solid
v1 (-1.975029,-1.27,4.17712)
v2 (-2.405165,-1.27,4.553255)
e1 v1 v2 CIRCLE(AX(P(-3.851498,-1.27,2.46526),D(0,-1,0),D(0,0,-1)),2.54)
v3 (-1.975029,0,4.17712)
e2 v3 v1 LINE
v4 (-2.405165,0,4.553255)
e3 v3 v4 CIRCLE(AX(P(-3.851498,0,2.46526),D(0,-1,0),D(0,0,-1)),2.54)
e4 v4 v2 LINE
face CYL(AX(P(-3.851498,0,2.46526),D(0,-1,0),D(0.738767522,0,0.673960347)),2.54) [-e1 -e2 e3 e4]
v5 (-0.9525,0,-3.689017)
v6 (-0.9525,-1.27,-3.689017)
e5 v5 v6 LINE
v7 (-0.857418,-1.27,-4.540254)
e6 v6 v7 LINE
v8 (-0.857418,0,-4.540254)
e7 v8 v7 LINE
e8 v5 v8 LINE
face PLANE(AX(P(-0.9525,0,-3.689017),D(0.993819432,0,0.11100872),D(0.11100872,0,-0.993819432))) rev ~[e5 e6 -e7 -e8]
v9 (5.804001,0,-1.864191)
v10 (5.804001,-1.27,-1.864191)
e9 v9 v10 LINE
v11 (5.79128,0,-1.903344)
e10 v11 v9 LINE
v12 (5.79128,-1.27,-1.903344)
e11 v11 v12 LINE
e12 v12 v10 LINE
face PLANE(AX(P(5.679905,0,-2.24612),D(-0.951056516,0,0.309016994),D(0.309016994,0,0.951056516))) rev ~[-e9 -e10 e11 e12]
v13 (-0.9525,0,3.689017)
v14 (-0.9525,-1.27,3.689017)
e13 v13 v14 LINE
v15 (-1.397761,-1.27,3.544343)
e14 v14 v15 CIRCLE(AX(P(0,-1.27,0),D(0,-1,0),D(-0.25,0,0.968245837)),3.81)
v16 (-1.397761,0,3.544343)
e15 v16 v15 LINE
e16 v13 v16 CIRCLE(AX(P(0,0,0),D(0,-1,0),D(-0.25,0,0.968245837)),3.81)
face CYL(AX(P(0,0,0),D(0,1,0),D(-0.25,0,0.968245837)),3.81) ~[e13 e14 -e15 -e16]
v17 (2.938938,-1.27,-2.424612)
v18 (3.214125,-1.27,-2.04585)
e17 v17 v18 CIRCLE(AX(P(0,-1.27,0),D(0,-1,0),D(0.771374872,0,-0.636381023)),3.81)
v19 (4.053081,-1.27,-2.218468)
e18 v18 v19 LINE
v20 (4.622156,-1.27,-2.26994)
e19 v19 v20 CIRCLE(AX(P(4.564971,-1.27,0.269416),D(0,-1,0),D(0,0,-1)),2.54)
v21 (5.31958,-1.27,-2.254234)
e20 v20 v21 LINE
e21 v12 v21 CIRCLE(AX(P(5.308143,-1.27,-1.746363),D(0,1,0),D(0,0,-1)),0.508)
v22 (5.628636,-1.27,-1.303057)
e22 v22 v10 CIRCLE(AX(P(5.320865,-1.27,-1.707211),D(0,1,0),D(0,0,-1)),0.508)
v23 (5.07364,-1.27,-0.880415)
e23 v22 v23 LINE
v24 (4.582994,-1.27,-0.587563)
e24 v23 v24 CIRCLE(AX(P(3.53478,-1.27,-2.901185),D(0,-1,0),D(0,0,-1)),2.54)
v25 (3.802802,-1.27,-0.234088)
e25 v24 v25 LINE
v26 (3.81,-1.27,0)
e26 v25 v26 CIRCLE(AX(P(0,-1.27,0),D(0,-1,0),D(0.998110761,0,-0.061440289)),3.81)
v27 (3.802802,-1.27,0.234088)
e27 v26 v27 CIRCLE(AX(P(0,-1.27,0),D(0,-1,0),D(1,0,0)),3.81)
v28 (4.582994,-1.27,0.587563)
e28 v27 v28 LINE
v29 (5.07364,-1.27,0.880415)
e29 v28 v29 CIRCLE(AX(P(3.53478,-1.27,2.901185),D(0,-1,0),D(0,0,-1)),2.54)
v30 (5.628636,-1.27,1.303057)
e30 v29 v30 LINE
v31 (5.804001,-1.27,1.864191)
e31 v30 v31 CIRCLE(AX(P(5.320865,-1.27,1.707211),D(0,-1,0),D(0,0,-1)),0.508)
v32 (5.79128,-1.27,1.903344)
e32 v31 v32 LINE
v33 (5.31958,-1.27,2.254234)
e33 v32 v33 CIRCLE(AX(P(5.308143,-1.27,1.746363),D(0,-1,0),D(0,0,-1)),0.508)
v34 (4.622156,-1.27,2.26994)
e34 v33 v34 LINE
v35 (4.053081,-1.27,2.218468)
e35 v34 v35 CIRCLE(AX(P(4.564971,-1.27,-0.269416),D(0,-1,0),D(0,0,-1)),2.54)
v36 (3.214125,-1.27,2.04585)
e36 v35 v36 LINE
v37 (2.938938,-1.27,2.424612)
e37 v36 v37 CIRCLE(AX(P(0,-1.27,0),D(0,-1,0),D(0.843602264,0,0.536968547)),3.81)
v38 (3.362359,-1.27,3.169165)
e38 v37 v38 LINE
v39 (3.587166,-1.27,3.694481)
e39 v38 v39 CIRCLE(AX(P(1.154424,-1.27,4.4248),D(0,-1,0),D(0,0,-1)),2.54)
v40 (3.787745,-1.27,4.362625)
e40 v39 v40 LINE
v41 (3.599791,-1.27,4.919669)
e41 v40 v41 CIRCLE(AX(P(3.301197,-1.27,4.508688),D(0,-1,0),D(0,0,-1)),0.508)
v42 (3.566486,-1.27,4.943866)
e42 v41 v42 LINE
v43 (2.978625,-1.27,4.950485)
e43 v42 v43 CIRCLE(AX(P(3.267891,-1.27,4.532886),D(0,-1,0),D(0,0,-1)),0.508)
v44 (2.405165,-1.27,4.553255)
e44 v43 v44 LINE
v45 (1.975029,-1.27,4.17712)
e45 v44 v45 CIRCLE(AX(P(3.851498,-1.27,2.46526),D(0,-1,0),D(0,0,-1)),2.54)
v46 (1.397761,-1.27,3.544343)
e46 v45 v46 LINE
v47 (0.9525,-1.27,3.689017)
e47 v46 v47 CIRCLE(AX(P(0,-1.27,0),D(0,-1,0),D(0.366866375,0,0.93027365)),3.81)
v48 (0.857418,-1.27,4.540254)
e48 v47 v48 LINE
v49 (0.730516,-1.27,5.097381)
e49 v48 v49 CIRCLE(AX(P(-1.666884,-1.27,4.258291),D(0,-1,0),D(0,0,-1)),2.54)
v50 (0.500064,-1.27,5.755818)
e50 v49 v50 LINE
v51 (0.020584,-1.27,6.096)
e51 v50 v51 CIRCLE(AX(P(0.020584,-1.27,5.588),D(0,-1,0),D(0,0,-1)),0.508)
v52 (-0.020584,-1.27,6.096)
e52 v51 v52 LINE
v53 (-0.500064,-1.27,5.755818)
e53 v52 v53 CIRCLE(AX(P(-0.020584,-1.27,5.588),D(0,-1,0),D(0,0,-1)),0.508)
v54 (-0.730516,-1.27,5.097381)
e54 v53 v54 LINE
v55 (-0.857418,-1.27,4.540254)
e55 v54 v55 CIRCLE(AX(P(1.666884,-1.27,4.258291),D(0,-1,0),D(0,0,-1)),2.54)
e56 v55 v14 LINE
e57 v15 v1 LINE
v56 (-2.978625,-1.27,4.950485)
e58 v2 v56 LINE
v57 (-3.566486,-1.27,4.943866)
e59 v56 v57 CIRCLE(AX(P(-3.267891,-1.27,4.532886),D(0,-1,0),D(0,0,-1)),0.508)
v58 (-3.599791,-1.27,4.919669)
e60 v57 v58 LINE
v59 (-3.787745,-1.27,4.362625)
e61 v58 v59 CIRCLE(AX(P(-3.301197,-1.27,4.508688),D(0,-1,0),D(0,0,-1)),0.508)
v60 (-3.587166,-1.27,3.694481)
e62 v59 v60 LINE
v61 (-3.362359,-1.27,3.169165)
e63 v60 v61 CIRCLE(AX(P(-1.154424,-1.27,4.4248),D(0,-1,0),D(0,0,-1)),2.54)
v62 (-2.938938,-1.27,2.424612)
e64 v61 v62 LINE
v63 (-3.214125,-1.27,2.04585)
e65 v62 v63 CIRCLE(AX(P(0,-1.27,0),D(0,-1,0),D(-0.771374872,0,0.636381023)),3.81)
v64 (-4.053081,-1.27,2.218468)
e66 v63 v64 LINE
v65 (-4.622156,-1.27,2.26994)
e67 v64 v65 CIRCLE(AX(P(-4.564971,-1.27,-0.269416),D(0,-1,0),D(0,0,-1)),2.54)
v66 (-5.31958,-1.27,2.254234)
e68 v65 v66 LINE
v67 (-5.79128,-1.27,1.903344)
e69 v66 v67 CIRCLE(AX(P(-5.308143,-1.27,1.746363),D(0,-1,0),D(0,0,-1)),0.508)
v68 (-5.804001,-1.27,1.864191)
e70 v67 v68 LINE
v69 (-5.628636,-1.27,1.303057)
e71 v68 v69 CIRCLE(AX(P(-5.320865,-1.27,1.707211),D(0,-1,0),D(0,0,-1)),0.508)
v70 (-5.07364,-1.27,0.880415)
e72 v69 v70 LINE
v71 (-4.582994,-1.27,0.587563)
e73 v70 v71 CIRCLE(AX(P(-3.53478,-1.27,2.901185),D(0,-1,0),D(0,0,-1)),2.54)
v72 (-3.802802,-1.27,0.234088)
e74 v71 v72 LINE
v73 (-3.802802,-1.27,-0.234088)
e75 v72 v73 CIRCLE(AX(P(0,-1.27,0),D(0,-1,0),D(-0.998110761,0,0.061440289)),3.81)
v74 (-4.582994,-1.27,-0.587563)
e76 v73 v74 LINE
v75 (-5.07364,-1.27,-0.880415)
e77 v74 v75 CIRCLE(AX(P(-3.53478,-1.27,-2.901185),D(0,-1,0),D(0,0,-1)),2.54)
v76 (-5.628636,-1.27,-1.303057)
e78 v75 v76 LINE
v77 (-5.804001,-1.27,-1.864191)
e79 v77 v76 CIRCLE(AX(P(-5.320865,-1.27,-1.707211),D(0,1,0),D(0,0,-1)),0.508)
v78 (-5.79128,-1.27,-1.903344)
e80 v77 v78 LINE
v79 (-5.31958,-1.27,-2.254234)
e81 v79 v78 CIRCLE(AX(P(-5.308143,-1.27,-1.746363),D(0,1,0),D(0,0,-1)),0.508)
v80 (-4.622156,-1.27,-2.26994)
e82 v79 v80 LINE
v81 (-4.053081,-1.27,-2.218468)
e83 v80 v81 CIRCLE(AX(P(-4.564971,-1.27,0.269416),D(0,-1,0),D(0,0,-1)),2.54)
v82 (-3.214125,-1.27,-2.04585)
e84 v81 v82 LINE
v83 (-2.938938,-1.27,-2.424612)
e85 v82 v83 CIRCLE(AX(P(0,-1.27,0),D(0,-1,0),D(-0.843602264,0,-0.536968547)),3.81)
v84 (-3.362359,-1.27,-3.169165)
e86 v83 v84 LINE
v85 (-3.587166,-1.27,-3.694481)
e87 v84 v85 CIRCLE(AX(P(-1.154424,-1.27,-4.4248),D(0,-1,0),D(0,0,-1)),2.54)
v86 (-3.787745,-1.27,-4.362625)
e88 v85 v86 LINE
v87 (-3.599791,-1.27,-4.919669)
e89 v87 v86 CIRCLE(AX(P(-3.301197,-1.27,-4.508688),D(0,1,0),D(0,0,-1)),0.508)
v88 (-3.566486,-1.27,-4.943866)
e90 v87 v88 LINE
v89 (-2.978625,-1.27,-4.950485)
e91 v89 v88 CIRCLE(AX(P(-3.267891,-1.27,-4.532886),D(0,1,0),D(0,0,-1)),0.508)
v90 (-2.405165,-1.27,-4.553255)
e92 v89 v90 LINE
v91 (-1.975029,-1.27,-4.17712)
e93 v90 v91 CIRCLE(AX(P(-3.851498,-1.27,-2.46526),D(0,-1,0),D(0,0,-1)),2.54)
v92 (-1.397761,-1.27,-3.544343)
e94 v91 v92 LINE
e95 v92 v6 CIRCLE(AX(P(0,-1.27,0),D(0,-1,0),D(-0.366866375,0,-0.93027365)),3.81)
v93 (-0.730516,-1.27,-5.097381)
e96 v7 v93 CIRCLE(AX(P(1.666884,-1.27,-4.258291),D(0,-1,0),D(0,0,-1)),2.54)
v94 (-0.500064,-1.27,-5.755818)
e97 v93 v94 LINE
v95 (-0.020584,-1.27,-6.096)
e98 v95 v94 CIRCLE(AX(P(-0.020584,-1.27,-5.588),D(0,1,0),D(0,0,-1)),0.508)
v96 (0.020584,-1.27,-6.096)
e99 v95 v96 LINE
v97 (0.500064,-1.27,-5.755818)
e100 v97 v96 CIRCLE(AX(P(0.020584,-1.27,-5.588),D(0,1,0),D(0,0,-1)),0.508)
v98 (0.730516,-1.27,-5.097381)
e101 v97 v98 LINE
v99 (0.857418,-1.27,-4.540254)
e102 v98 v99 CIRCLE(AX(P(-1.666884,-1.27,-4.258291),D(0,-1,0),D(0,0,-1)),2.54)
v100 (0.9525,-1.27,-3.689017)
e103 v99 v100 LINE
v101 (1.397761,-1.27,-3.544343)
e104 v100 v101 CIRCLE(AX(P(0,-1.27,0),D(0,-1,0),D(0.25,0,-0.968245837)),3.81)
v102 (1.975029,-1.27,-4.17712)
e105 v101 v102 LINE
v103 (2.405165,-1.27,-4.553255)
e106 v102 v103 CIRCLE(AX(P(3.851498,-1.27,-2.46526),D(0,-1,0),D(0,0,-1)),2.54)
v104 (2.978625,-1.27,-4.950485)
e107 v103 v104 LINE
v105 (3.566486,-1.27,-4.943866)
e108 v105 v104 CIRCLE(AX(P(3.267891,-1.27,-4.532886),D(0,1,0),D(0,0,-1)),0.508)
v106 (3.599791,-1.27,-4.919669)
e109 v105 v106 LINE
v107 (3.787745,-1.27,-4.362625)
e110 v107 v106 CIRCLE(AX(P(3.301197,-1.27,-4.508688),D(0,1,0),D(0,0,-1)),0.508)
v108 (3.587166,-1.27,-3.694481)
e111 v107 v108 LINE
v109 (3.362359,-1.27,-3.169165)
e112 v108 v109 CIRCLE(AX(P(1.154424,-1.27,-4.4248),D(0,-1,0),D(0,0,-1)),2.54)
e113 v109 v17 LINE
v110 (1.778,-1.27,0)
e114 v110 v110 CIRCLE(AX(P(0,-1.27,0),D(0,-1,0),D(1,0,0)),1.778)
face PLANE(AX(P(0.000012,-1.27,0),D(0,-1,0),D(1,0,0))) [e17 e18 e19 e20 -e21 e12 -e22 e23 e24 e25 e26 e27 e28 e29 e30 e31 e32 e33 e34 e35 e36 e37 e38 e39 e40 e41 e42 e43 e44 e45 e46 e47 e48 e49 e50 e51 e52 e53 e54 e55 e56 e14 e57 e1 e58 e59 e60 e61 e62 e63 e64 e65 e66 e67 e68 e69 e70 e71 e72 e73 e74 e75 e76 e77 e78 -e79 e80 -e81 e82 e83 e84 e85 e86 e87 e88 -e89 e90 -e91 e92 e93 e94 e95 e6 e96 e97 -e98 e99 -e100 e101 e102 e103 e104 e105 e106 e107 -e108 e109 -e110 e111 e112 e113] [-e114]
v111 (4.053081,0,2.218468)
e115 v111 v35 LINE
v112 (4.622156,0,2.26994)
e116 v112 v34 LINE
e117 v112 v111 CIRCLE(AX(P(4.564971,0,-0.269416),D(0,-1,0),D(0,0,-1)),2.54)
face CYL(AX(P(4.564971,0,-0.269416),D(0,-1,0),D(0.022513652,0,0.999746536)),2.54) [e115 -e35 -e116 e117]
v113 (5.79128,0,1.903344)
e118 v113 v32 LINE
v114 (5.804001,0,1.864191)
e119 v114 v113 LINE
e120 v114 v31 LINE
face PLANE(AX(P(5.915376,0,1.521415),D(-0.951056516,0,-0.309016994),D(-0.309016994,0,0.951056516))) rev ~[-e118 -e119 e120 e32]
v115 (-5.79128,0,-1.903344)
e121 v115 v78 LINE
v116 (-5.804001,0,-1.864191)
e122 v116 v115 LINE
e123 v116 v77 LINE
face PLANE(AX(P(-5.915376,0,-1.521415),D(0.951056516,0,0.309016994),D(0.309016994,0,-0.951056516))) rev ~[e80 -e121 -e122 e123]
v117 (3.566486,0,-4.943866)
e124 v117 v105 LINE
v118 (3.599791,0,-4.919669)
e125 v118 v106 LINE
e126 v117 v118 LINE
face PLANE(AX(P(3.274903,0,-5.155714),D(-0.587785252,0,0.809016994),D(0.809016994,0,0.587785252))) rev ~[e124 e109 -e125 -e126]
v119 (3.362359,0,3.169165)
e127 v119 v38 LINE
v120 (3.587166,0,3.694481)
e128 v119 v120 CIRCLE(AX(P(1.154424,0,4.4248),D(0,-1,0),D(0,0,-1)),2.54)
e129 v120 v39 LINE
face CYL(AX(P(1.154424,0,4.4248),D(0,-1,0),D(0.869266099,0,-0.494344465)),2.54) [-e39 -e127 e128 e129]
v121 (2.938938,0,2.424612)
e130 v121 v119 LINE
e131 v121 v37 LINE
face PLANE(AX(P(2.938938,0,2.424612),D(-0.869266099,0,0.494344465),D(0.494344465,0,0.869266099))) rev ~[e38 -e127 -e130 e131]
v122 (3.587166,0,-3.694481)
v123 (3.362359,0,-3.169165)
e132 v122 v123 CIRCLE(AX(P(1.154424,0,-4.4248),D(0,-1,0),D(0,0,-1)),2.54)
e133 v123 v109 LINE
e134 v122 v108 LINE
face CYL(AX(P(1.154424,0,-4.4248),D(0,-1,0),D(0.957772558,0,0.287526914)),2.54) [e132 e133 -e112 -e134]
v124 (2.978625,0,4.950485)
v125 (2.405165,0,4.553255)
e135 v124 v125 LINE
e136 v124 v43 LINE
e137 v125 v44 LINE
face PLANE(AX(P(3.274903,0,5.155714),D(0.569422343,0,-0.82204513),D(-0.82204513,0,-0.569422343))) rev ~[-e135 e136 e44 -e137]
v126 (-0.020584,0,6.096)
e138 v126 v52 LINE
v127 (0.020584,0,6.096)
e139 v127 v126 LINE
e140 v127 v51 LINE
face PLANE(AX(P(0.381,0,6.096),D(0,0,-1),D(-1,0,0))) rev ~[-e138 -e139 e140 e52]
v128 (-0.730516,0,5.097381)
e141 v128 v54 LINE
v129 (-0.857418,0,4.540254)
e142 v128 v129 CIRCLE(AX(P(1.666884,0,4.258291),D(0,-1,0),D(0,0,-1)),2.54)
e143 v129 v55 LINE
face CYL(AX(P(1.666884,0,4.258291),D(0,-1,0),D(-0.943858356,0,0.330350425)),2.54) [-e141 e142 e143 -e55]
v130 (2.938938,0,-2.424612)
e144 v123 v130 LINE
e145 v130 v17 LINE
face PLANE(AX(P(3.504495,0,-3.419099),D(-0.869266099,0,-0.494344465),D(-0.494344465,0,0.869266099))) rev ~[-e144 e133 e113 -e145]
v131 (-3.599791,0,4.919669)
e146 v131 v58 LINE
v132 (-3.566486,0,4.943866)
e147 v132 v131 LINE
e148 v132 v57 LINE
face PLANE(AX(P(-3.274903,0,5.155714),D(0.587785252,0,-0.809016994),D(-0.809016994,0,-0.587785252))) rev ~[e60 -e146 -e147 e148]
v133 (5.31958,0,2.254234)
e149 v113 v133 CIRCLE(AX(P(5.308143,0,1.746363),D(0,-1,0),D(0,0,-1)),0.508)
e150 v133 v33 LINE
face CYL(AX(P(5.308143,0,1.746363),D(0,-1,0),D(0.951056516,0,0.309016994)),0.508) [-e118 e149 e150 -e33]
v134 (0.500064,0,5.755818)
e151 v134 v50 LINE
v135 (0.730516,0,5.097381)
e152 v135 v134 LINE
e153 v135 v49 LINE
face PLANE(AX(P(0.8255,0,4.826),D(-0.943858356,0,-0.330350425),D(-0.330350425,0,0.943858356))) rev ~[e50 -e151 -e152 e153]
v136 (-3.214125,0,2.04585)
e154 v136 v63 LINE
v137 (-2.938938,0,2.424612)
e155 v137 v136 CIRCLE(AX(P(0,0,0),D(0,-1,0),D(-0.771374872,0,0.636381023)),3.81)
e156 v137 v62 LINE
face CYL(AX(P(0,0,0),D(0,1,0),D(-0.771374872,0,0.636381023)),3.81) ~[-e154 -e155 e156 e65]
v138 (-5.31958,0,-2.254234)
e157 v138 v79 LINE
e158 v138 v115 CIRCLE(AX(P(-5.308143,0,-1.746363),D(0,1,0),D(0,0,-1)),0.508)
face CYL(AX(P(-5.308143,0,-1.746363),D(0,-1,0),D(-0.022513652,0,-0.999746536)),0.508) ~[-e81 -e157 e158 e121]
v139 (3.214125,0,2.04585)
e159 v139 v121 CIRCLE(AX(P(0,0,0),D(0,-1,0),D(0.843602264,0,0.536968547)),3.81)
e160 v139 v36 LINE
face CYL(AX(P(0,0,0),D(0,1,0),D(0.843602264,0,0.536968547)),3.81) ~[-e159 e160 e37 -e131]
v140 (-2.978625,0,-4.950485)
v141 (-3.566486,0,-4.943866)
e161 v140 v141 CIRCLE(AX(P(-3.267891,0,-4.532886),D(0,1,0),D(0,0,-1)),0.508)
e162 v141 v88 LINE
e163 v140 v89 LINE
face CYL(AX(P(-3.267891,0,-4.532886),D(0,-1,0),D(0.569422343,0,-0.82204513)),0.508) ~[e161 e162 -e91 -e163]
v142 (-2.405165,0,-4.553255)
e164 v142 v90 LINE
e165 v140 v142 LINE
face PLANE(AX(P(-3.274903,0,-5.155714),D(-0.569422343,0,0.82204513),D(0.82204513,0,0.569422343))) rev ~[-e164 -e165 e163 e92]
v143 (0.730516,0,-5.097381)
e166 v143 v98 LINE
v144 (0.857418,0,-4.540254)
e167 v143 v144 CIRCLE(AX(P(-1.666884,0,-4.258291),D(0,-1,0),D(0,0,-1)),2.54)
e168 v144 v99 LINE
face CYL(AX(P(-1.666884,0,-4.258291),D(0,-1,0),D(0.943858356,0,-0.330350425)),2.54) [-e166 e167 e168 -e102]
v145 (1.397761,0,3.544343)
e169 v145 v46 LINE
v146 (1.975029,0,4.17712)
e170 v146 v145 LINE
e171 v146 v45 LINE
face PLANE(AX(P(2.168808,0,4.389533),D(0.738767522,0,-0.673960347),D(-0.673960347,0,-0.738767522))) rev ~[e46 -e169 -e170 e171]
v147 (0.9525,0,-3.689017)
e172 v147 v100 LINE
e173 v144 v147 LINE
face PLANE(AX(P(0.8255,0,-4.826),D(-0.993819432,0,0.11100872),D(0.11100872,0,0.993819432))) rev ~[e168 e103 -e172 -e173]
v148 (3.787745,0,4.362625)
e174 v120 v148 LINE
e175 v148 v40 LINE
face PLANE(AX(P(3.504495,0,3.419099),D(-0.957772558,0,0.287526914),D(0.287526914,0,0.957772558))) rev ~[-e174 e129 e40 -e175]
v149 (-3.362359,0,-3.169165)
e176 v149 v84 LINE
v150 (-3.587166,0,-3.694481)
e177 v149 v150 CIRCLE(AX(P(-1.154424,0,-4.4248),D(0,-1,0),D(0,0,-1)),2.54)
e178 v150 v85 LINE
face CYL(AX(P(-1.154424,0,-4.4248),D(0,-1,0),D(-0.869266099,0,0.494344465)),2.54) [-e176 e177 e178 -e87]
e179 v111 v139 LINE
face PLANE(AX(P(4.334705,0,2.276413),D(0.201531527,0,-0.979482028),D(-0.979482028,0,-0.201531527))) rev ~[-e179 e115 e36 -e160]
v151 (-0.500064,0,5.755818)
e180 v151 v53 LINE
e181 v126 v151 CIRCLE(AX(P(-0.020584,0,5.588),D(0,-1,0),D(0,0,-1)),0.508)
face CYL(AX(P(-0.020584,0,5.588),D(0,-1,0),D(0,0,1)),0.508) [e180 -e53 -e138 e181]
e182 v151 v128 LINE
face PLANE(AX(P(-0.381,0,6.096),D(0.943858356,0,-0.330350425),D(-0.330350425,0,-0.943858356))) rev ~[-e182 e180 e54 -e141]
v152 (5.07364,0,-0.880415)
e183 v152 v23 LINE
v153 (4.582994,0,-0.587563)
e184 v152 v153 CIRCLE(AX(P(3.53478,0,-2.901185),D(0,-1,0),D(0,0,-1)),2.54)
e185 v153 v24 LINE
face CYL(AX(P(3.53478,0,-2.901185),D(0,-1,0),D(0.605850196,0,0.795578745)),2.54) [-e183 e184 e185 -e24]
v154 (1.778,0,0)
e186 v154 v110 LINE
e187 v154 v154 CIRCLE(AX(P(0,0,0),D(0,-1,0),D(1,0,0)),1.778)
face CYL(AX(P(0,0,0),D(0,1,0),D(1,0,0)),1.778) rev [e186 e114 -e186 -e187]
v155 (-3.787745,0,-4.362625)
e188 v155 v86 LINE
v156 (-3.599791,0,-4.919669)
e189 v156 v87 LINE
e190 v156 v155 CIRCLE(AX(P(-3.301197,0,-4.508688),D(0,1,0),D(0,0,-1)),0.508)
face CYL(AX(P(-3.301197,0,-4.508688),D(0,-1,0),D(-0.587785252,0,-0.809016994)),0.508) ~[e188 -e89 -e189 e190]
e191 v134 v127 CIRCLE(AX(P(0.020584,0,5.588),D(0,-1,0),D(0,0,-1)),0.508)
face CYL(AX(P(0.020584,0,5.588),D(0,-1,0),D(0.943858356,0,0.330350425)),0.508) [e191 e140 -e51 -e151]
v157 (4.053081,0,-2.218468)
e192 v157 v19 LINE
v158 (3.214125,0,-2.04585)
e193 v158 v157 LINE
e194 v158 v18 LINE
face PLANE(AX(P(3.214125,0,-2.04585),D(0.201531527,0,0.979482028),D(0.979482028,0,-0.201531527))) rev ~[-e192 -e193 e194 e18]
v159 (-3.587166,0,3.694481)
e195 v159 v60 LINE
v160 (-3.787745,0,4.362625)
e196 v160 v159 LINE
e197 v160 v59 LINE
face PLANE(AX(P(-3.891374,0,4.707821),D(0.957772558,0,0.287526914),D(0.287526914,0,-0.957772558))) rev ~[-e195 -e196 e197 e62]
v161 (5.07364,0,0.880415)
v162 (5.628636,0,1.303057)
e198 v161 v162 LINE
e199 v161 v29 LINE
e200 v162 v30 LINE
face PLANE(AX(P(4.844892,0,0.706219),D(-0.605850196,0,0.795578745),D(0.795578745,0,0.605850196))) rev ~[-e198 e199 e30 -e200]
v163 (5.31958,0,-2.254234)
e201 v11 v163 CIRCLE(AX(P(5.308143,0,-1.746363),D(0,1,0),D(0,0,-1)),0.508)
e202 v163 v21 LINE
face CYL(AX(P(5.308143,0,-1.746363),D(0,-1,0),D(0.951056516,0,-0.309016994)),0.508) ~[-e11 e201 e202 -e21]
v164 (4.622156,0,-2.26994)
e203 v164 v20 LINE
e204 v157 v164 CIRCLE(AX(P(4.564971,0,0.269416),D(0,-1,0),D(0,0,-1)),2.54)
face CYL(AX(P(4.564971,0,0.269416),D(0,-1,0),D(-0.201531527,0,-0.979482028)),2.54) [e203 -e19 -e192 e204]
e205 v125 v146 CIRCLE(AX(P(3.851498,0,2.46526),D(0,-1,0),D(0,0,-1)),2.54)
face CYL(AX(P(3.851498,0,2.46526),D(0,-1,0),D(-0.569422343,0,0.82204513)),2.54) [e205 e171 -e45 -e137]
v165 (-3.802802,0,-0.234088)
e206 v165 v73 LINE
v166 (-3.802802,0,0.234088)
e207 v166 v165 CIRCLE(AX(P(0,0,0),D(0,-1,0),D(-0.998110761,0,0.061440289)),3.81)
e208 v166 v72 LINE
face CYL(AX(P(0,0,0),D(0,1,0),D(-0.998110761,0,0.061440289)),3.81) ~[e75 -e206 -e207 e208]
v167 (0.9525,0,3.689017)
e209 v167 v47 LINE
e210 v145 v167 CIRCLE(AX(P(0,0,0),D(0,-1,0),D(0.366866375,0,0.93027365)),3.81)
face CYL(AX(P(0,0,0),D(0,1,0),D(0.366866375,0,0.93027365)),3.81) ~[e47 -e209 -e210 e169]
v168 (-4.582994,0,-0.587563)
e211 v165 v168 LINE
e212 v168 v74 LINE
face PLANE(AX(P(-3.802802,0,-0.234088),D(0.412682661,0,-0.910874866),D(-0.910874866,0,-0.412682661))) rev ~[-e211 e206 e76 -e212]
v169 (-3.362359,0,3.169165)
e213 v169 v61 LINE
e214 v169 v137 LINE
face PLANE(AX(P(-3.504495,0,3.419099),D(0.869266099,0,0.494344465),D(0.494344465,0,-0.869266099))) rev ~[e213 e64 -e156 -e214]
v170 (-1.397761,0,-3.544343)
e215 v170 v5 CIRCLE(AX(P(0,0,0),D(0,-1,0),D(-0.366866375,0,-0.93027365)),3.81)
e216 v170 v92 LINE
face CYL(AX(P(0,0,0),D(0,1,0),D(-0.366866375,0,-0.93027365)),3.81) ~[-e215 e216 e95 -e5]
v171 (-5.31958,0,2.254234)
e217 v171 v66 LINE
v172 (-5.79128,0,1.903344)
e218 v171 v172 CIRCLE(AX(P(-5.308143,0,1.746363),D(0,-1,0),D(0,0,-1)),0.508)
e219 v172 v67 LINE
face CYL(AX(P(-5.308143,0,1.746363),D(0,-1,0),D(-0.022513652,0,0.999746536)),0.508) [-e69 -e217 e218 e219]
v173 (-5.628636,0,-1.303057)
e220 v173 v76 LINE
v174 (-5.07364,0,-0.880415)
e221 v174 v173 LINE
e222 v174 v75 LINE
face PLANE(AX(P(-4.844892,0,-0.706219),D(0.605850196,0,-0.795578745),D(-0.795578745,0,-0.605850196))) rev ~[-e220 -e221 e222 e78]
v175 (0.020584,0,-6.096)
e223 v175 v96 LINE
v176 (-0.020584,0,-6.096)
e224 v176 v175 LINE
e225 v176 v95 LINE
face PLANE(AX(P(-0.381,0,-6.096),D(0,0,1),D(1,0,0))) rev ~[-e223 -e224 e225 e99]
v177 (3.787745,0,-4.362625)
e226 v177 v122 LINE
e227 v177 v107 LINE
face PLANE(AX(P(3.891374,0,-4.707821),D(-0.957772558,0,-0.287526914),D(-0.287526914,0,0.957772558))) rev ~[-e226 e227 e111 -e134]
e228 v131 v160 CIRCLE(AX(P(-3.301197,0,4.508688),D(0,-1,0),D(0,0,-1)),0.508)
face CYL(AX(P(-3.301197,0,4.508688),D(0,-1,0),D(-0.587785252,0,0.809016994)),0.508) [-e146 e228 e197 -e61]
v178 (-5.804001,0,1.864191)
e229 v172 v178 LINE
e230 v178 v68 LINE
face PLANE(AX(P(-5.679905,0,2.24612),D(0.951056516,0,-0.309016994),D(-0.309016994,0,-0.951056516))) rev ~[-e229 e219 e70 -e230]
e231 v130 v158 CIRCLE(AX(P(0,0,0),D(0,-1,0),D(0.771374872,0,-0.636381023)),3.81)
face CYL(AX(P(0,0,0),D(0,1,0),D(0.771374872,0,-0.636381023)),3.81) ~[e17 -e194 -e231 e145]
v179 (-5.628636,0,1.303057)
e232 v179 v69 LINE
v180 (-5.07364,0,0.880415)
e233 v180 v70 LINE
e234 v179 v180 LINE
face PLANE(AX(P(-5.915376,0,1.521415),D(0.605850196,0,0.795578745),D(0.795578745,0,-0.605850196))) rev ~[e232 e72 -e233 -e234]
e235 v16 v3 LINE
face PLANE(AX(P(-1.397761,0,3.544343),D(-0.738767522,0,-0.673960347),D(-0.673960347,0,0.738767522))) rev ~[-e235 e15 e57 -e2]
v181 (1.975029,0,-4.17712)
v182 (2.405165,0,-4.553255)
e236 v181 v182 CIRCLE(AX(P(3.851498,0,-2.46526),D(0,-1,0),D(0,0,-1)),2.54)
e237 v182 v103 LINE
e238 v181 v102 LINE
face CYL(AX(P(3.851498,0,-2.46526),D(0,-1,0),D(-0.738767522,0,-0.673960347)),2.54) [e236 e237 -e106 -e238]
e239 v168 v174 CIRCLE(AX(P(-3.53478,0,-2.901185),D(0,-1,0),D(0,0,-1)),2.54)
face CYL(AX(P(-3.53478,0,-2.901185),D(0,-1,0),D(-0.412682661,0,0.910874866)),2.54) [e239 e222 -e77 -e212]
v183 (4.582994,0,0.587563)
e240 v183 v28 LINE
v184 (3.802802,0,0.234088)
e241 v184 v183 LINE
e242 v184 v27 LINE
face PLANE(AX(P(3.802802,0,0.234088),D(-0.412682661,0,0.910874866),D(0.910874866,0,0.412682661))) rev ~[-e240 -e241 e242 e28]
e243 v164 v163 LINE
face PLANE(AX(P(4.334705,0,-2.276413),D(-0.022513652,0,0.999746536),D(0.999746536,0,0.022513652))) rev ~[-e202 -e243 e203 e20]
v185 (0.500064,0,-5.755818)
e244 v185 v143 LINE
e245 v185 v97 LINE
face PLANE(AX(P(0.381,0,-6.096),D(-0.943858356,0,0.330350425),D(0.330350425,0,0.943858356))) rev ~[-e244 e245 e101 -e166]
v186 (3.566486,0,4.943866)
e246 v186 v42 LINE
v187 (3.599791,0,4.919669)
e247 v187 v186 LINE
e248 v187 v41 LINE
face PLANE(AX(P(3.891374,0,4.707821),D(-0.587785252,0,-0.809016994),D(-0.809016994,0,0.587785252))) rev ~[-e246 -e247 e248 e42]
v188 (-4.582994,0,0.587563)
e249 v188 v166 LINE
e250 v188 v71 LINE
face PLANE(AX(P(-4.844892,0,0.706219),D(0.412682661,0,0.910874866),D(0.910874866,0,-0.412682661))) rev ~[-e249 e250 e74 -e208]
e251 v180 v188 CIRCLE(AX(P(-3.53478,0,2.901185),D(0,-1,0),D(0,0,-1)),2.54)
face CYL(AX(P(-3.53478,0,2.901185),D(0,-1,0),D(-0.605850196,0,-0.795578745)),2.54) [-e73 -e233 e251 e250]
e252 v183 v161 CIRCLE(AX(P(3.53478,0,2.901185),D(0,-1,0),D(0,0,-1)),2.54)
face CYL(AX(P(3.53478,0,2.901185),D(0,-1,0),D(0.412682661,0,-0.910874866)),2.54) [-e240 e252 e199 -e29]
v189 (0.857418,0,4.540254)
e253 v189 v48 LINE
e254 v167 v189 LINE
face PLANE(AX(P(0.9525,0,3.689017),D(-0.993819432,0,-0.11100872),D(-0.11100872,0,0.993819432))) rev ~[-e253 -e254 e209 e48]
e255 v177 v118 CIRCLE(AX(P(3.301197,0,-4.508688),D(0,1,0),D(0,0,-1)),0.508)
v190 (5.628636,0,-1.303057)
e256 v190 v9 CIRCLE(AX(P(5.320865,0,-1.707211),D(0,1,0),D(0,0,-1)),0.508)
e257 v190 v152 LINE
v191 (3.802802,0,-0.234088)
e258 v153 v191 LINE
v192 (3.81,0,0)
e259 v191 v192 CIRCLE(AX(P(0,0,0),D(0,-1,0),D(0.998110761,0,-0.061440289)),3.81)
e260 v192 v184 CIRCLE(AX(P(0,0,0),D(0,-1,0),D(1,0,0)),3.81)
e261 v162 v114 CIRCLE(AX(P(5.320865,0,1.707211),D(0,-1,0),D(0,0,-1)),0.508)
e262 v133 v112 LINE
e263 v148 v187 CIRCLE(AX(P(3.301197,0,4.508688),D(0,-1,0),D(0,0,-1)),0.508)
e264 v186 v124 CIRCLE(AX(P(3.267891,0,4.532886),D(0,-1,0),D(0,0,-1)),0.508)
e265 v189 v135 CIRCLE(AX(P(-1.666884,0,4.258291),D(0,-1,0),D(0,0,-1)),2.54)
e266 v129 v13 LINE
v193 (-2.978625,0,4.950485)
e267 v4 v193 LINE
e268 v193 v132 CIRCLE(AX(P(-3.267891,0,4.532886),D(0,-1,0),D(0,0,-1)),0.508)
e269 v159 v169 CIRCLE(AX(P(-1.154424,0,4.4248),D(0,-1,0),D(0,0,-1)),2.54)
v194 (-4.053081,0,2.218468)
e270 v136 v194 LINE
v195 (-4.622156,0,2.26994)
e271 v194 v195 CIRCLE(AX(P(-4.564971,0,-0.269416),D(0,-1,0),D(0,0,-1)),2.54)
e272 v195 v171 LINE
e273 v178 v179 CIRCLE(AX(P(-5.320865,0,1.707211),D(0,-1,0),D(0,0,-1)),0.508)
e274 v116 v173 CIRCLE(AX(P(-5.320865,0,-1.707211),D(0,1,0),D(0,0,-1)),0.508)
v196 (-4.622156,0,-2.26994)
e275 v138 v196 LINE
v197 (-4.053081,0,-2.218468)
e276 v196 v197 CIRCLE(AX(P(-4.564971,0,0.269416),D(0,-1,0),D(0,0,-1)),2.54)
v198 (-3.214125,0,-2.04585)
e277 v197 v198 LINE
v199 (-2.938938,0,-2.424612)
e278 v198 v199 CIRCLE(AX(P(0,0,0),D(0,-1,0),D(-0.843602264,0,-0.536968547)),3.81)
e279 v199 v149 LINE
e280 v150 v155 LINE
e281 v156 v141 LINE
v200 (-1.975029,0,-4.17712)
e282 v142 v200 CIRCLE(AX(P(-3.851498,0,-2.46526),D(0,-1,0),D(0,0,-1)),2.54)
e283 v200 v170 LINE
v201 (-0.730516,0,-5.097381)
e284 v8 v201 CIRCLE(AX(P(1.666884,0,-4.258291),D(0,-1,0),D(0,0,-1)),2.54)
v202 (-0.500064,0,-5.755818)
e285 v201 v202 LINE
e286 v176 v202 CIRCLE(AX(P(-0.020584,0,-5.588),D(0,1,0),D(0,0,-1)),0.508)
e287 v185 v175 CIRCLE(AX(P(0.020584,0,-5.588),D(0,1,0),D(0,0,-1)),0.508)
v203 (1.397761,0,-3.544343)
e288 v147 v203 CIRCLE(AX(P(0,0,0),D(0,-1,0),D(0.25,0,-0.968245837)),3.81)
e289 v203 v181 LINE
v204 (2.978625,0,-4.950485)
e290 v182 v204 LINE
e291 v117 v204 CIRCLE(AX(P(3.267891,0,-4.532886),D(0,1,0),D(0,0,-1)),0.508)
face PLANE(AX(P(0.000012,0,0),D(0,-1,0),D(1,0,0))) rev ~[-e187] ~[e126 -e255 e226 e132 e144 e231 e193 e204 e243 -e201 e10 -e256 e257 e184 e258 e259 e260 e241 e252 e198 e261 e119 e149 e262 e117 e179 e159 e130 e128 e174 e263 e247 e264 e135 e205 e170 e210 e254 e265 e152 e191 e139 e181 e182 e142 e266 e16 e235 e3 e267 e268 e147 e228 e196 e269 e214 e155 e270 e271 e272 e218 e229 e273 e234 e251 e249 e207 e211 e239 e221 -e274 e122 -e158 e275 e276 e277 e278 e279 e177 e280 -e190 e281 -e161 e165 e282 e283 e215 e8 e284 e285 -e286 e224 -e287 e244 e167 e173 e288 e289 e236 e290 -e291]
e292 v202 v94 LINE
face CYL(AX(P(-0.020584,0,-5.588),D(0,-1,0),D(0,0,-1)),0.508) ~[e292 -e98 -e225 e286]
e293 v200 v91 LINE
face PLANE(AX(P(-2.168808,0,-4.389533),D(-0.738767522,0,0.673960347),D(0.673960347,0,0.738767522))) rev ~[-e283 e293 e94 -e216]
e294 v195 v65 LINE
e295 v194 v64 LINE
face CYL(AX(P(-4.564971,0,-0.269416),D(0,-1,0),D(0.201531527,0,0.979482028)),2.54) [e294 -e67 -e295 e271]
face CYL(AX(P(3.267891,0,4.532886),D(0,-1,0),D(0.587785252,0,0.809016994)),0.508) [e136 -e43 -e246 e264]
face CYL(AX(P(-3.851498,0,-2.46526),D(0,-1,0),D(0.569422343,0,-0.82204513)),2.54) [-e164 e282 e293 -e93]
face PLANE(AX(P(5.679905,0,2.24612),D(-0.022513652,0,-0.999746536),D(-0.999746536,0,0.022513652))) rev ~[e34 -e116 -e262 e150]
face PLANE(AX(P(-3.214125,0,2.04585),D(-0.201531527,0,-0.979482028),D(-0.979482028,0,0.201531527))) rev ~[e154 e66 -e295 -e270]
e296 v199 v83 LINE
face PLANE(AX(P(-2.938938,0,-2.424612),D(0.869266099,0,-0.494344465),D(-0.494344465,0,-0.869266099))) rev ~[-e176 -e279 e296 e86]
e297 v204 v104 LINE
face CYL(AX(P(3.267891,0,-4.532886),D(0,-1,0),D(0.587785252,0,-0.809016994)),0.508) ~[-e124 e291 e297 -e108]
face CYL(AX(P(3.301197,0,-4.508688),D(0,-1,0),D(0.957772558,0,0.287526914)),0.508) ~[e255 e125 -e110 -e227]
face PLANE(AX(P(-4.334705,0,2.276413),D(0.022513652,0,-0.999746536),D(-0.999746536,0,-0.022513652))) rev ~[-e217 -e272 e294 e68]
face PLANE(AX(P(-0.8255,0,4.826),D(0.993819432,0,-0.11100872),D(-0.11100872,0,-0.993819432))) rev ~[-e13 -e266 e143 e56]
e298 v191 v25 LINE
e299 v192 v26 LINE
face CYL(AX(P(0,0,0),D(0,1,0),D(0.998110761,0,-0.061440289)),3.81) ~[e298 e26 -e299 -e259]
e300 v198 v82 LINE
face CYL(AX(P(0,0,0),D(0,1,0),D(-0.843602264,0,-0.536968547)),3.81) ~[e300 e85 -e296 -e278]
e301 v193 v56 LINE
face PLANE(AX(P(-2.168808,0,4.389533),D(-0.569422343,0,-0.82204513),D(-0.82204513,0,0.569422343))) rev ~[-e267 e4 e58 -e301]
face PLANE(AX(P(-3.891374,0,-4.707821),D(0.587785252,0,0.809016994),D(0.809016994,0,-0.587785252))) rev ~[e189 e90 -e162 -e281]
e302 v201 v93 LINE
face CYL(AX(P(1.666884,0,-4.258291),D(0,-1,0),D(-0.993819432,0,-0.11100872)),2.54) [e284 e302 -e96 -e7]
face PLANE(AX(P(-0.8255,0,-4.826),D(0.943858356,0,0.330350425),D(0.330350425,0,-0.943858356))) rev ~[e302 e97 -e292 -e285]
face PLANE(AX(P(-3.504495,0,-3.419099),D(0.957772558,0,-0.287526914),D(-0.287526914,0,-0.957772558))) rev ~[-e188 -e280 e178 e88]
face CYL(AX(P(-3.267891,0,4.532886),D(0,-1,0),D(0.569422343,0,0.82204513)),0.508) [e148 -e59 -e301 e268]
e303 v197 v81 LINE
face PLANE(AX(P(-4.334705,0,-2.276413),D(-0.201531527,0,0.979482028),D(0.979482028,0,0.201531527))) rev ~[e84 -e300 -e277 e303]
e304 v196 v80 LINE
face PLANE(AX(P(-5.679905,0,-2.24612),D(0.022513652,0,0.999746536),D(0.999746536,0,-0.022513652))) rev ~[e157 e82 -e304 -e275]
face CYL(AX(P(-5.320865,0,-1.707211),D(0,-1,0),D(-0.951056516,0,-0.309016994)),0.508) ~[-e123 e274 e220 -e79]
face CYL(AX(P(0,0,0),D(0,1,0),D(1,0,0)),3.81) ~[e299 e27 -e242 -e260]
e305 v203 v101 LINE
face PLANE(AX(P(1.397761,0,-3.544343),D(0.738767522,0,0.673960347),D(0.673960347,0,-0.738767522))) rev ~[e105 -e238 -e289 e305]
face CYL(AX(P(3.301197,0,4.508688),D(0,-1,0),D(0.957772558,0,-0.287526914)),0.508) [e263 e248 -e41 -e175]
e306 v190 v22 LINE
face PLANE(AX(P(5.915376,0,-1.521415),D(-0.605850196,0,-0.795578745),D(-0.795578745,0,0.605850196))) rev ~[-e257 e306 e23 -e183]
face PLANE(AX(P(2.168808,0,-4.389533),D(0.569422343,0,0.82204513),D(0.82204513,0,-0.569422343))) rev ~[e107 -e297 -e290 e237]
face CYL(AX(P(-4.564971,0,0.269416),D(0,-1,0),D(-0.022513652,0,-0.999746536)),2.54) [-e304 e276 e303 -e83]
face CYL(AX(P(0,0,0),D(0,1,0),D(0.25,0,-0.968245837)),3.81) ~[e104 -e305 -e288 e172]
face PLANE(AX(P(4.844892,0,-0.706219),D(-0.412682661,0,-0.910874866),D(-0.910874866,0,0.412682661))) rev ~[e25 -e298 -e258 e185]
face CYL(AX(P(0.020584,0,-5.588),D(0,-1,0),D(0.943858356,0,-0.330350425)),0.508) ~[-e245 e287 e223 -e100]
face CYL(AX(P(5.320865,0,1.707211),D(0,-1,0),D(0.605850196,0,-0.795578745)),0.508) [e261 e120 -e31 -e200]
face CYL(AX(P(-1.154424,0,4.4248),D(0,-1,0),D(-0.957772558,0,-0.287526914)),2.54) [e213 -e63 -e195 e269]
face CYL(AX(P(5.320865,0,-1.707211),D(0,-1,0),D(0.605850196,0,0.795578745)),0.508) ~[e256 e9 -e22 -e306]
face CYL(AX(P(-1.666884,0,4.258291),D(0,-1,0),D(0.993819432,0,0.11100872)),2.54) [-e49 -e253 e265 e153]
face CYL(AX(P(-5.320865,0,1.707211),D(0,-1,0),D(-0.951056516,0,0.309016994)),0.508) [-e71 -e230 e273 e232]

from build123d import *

# Parameters (mm, degrees)
F0_R     = 3.556
F1_DEPTH = 2.54
F2_R     = 5.08
F3_R     = 1.016
F4_SCALE = 0.5


with BuildPart() as f1:
    # F0 (on Front) → F1 (new body)
    with BuildSketch(Plane.XZ):
        with BuildLine():
            ThreePointArc((7.6056039975, -0.4681750033), (7.616400149, -0.2341981419), (7.62, 0))
            ThreePointArc((7.62, 0), (7.616400149, 0.2341981419), (7.6056039975, 0.4681750033))
            ThreePointArc((7.6056039975, 0.4681750033), (7.2470506542, 2.3547094971), (6.4282492489, 4.0917003304))
            ThreePointArc((6.4282492489, 4.0917003304), (6.1647094971, 4.4789236225), (5.877876524, 4.8492233985))
            ThreePointArc((5.877876524, 4.8492233985), (4.4789236225, 6.1647094971), (2.7955217754, 7.0886852098))
            ThreePointArc((2.7955217754, 7.0886852098), (2.3547094971, 7.2470506542), (1.905, 7.3780332745))
            ThreePointArc((1.905, 7.3780332745), (0, 7.62), (-1.905, 7.3780332745))
            ThreePointArc((-1.905, 7.3780332745), (-2.3547094971, 7.2470506542), (-2.7955217754, 7.0886852098))
            ThreePointArc((-2.7955217754, 7.0886852098), (-4.4789236225, 6.1647094971), (-5.877876524, 4.8492233985))
            ThreePointArc((-5.877876524, 4.8492233985), (-6.1647094971, 4.4789236225), (-6.4282492489, 4.0917003304))
            ThreePointArc((-6.4282492489, 4.0917003304), (-7.2470506542, 2.3547094971), (-7.6056039975, 0.4681750033))
            ThreePointArc((-7.6056039975, 0.4681750033), (-7.62, 0), (-7.6056039975, -0.4681750033))
            ThreePointArc((-7.6056039975, -0.4681750033), (-7.2470506542, -2.3547094971), (-6.4282492489, -4.0917003304))
            ThreePointArc((-6.4282492489, -4.0917003304), (-6.1647094971, -4.4789236225), (-5.877876524, -4.8492233985))
            ThreePointArc((-5.877876524, -4.8492233985), (-4.4789236225, -6.1647094971), (-2.7955217754, -7.0886852098))
            ThreePointArc((-2.7955217754, -7.0886852098), (-2.3547094971, -7.2470506542), (-1.905, -7.3780332745))
            ThreePointArc((-1.905, -7.3780332745), (0, -7.62), (1.905, -7.3780332745))
            ThreePointArc((1.905, -7.3780332745), (2.3547094971, -7.2470506542), (2.7955217754, -7.0886852098))
            ThreePointArc((2.7955217754, -7.0886852098), (4.4789236225, -6.1647094971), (5.877876524, -4.8492233985))
            ThreePointArc((5.877876524, -4.8492233985), (6.1647094971, -4.4789236225), (6.4282492489, -4.0917003304))
            ThreePointArc((6.4282492489, -4.0917003304), (7.2470506542, -2.3547094971), (7.6056039975, -0.4681750033))
        make_face()
        Circle(F0_R, mode=Mode.SUBTRACT)
        with BuildLine():
            ThreePointArc((6.4282492489, 4.0917003304), (7.2470506542, 2.3547094971), (7.6056039975, 0.4681750033))
            Line((7.6056039975, 0.4681750033), (9.689784553, 1.4124377213))
            Line((9.689784553, 1.4124377213), (11.8307519964, 3.04283013))
            Line((11.8307519964, 3.04283013), (11.359810097, 4.4922402608))
            Line((11.359810097, 4.4922402608), (8.6694104376, 4.5528263381))
            Line((8.6694104376, 4.5528263381), (6.4282492489, 4.0917003304))
        make_face()
        with BuildLine():
            Line((9.689784553, -1.4124377213), (7.6056039975, -0.4681750033))
            ThreePointArc((7.6056039975, -0.4681750033), (7.2470506542, -2.3547094971), (6.4282492489, -4.0917003304))
            Line((6.4282492489, -4.0917003304), (8.6694104376, -4.5528263381))
            Line((8.6694104376, -4.5528263381), (11.359810097, -4.4922402608))
            Line((11.359810097, -4.4922402608), (11.8307519964, -3.04283013))
            Line((11.8307519964, -3.04283013), (9.689784553, -1.4124377213))
        make_face()
        with BuildLine():
            ThreePointArc((2.7955217754, 7.0886852098), (4.4789236225, 6.1647094971), (5.877876524, 4.8492233985))
            Line((5.877876524, 4.8492233985), (7.0089903128, 6.8381985782))
            Line((7.0089903128, 6.8381985782), (7.7827487457, 9.4156428332))
            Line((7.7827487457, 9.4156428332), (6.5498068462, 10.3114275577))
            Line((6.5498068462, 10.3114275577), (4.3376161974, 8.7790654812))
            Line((4.3376161974, 8.7790654812), (2.7955217754, 7.0886852098))
        make_face()
        with BuildLine():
            Line((7.0089903128, -6.8381985782), (5.877876524, -4.8492233985))
            ThreePointArc((5.877876524, -4.8492233985), (4.4789236225, -6.1647094971), (2.7955217754, -7.0886852098))
            Line((2.7955217754, -7.0886852098), (4.3376161974, -8.7790654812))
            Line((4.3376161974, -8.7790654812), (6.5498068462, -10.3114275577))
            Line((6.5498068462, -10.3114275577), (7.7827487457, -9.4156428332))
            Line((7.7827487457, -9.4156428332), (7.0089903128, -6.8381985782))
        make_face()
        with BuildLine():
            ThreePointArc((-1.905, 7.3780332745), (0, 7.62), (1.905, 7.3780332745))
            Line((1.905, 7.3780332745), (1.651, 9.652))
            Line((1.651, 9.652), (0.762, 12.192))
            Line((0.762, 12.192), (-0.762, 12.192))
            Line((-0.762, 12.192), (-1.651, 9.652))
            Line((-1.651, 9.652), (-1.905, 7.3780332745))
        make_face()
        with BuildLine():
            Line((1.651, -9.652), (1.905, -7.3780332745))
            ThreePointArc((1.905, -7.3780332745), (0, -7.62), (-1.905, -7.3780332745))
            Line((-1.905, -7.3780332745), (-1.651, -9.652))
            Line((-1.651, -9.652), (-0.762, -12.192))
            Line((-0.762, -12.192), (0.762, -12.192))
            Line((0.762, -12.192), (1.651, -9.652))
        make_face()
        with BuildLine():
            ThreePointArc((-5.877876524, 4.8492233985), (-4.4789236225, 6.1647094971), (-2.7955217754, 7.0886852098))
            Line((-2.7955217754, 7.0886852098), (-4.3376161974, 8.7790654812))
            Line((-4.3376161974, 8.7790654812), (-6.5498068462, 10.3114275577))
            Line((-6.5498068462, 10.3114275577), (-7.7827487457, 9.4156428332))
            Line((-7.7827487457, 9.4156428332), (-7.0089903128, 6.8381985782))
            Line((-7.0089903128, 6.8381985782), (-5.877876524, 4.8492233985))
        make_face()
        with BuildLine():
            Line((-4.3376161974, -8.7790654812), (-2.7955217754, -7.0886852098))
            ThreePointArc((-2.7955217754, -7.0886852098), (-4.4789236225, -6.1647094971), (-5.877876524, -4.8492233985))
            Line((-5.877876524, -4.8492233985), (-7.0089903128, -6.8381985782))
            Line((-7.0089903128, -6.8381985782), (-7.7827487457, -9.4156428332))
            Line((-7.7827487457, -9.4156428332), (-6.5498068462, -10.3114275577))
            Line((-6.5498068462, -10.3114275577), (-4.3376161974, -8.7790654812))
        make_face()
        with BuildLine():
            ThreePointArc((-7.6056039975, 0.4681750033), (-7.2470506542, 2.3547094971), (-6.4282492489, 4.0917003304))
            Line((-6.4282492489, 4.0917003304), (-8.6694104376, 4.5528263381))
            Line((-8.6694104376, 4.5528263381), (-11.359810097, 4.4922402608))
            Line((-11.359810097, 4.4922402608), (-11.8307519964, 3.04283013))
            Line((-11.8307519964, 3.04283013), (-9.689784553, 1.4124377213))
            Line((-9.689784553, 1.4124377213), (-7.6056039975, 0.4681750033))
        make_face()
        with BuildLine():
            Line((-8.6694104376, -4.5528263381), (-6.4282492489, -4.0917003304))
            ThreePointArc((-6.4282492489, -4.0917003304), (-7.2470506542, -2.3547094971), (-7.6056039975, -0.4681750033))
            Line((-7.6056039975, -0.4681750033), (-9.689784553, -1.4124377213))
            Line((-9.689784553, -1.4124377213), (-11.8307519964, -3.04283013))
            Line((-11.8307519964, -3.04283013), (-11.359810097, -4.4922402608))
            Line((-11.359810097, -4.4922402608), (-8.6694104376, -4.5528263381))
        make_face()
    extrude(amount=F1_DEPTH)

    # F2
    f2_edges = [f1.edges().sort_by_distance(p)[0] for p in [
        (7.00899, -1.27, 6.838199),
        (4.337616, -1.27, 8.779065),
        (1.651, -1.27, 9.652),
        (-4.337616, -1.27, 8.779065),
        (-8.66941, -1.27, 4.552826),
        (-9.689785, -1.27, -1.412438),
        (-7.00899, -1.27, -6.838199),
        (-1.651, -1.27, -9.652),
        (4.337616, -1.27, -8.779065),
        (8.66941, -1.27, -4.552826),
        (9.689785, -1.27, 1.412438),
        (9.689785, -1.27, -1.412438),
        (8.66941, -1.27, 4.552826),
        (-1.651, -1.27, 9.652),
        (-7.00899, -1.27, 6.838199),
        (-9.689785, -1.27, 1.412438),
        (-8.66941, -1.27, -4.552826),
        (-4.337616, -1.27, -8.779065),
        (1.651, -1.27, -9.652),
        (7.00899, -1.27, -6.838199),
    ]]
    fillet(f2_edges, radius=F2_R)

    # F3
    f3_edges = [f1.edges().sort_by_distance(p)[0] for p in [
        (0.762, -1.27, 12.192),
        (-0.762, -1.27, 12.192),
        (-6.549807, -1.27, 10.311428),
        (-7.782749, -1.27, 9.415643),
        (-11.35981, -1.27, 4.49224),
        (6.549807, -1.27, 10.311428),
        (7.782749, -1.27, 9.415643),
        (11.35981, -1.27, 4.49224),
        (-11.830752, -1.27, 3.04283),
        (-11.830752, -1.27, -3.04283),
        (-11.35981, -1.27, -4.49224),
        (-7.782749, -1.27, -9.415643),
        (-6.549807, -1.27, -10.311428),
        (-0.762, -1.27, -12.192),
        (0.762, -1.27, -12.192),
        (6.549807, -1.27, -10.311428),
        (7.782749, -1.27, -9.415643),
        (11.830752, -1.27, -3.04283),
        (11.35981, -1.27, -4.49224),
        (11.830752, -1.27, 3.04283),
    ]]
    fillet(f3_edges, radius=F3_R)


with BuildPart() as f1_1:
    # F4: moved
    add(f1.part.scale(F4_SCALE))


solid = f1_1.part
